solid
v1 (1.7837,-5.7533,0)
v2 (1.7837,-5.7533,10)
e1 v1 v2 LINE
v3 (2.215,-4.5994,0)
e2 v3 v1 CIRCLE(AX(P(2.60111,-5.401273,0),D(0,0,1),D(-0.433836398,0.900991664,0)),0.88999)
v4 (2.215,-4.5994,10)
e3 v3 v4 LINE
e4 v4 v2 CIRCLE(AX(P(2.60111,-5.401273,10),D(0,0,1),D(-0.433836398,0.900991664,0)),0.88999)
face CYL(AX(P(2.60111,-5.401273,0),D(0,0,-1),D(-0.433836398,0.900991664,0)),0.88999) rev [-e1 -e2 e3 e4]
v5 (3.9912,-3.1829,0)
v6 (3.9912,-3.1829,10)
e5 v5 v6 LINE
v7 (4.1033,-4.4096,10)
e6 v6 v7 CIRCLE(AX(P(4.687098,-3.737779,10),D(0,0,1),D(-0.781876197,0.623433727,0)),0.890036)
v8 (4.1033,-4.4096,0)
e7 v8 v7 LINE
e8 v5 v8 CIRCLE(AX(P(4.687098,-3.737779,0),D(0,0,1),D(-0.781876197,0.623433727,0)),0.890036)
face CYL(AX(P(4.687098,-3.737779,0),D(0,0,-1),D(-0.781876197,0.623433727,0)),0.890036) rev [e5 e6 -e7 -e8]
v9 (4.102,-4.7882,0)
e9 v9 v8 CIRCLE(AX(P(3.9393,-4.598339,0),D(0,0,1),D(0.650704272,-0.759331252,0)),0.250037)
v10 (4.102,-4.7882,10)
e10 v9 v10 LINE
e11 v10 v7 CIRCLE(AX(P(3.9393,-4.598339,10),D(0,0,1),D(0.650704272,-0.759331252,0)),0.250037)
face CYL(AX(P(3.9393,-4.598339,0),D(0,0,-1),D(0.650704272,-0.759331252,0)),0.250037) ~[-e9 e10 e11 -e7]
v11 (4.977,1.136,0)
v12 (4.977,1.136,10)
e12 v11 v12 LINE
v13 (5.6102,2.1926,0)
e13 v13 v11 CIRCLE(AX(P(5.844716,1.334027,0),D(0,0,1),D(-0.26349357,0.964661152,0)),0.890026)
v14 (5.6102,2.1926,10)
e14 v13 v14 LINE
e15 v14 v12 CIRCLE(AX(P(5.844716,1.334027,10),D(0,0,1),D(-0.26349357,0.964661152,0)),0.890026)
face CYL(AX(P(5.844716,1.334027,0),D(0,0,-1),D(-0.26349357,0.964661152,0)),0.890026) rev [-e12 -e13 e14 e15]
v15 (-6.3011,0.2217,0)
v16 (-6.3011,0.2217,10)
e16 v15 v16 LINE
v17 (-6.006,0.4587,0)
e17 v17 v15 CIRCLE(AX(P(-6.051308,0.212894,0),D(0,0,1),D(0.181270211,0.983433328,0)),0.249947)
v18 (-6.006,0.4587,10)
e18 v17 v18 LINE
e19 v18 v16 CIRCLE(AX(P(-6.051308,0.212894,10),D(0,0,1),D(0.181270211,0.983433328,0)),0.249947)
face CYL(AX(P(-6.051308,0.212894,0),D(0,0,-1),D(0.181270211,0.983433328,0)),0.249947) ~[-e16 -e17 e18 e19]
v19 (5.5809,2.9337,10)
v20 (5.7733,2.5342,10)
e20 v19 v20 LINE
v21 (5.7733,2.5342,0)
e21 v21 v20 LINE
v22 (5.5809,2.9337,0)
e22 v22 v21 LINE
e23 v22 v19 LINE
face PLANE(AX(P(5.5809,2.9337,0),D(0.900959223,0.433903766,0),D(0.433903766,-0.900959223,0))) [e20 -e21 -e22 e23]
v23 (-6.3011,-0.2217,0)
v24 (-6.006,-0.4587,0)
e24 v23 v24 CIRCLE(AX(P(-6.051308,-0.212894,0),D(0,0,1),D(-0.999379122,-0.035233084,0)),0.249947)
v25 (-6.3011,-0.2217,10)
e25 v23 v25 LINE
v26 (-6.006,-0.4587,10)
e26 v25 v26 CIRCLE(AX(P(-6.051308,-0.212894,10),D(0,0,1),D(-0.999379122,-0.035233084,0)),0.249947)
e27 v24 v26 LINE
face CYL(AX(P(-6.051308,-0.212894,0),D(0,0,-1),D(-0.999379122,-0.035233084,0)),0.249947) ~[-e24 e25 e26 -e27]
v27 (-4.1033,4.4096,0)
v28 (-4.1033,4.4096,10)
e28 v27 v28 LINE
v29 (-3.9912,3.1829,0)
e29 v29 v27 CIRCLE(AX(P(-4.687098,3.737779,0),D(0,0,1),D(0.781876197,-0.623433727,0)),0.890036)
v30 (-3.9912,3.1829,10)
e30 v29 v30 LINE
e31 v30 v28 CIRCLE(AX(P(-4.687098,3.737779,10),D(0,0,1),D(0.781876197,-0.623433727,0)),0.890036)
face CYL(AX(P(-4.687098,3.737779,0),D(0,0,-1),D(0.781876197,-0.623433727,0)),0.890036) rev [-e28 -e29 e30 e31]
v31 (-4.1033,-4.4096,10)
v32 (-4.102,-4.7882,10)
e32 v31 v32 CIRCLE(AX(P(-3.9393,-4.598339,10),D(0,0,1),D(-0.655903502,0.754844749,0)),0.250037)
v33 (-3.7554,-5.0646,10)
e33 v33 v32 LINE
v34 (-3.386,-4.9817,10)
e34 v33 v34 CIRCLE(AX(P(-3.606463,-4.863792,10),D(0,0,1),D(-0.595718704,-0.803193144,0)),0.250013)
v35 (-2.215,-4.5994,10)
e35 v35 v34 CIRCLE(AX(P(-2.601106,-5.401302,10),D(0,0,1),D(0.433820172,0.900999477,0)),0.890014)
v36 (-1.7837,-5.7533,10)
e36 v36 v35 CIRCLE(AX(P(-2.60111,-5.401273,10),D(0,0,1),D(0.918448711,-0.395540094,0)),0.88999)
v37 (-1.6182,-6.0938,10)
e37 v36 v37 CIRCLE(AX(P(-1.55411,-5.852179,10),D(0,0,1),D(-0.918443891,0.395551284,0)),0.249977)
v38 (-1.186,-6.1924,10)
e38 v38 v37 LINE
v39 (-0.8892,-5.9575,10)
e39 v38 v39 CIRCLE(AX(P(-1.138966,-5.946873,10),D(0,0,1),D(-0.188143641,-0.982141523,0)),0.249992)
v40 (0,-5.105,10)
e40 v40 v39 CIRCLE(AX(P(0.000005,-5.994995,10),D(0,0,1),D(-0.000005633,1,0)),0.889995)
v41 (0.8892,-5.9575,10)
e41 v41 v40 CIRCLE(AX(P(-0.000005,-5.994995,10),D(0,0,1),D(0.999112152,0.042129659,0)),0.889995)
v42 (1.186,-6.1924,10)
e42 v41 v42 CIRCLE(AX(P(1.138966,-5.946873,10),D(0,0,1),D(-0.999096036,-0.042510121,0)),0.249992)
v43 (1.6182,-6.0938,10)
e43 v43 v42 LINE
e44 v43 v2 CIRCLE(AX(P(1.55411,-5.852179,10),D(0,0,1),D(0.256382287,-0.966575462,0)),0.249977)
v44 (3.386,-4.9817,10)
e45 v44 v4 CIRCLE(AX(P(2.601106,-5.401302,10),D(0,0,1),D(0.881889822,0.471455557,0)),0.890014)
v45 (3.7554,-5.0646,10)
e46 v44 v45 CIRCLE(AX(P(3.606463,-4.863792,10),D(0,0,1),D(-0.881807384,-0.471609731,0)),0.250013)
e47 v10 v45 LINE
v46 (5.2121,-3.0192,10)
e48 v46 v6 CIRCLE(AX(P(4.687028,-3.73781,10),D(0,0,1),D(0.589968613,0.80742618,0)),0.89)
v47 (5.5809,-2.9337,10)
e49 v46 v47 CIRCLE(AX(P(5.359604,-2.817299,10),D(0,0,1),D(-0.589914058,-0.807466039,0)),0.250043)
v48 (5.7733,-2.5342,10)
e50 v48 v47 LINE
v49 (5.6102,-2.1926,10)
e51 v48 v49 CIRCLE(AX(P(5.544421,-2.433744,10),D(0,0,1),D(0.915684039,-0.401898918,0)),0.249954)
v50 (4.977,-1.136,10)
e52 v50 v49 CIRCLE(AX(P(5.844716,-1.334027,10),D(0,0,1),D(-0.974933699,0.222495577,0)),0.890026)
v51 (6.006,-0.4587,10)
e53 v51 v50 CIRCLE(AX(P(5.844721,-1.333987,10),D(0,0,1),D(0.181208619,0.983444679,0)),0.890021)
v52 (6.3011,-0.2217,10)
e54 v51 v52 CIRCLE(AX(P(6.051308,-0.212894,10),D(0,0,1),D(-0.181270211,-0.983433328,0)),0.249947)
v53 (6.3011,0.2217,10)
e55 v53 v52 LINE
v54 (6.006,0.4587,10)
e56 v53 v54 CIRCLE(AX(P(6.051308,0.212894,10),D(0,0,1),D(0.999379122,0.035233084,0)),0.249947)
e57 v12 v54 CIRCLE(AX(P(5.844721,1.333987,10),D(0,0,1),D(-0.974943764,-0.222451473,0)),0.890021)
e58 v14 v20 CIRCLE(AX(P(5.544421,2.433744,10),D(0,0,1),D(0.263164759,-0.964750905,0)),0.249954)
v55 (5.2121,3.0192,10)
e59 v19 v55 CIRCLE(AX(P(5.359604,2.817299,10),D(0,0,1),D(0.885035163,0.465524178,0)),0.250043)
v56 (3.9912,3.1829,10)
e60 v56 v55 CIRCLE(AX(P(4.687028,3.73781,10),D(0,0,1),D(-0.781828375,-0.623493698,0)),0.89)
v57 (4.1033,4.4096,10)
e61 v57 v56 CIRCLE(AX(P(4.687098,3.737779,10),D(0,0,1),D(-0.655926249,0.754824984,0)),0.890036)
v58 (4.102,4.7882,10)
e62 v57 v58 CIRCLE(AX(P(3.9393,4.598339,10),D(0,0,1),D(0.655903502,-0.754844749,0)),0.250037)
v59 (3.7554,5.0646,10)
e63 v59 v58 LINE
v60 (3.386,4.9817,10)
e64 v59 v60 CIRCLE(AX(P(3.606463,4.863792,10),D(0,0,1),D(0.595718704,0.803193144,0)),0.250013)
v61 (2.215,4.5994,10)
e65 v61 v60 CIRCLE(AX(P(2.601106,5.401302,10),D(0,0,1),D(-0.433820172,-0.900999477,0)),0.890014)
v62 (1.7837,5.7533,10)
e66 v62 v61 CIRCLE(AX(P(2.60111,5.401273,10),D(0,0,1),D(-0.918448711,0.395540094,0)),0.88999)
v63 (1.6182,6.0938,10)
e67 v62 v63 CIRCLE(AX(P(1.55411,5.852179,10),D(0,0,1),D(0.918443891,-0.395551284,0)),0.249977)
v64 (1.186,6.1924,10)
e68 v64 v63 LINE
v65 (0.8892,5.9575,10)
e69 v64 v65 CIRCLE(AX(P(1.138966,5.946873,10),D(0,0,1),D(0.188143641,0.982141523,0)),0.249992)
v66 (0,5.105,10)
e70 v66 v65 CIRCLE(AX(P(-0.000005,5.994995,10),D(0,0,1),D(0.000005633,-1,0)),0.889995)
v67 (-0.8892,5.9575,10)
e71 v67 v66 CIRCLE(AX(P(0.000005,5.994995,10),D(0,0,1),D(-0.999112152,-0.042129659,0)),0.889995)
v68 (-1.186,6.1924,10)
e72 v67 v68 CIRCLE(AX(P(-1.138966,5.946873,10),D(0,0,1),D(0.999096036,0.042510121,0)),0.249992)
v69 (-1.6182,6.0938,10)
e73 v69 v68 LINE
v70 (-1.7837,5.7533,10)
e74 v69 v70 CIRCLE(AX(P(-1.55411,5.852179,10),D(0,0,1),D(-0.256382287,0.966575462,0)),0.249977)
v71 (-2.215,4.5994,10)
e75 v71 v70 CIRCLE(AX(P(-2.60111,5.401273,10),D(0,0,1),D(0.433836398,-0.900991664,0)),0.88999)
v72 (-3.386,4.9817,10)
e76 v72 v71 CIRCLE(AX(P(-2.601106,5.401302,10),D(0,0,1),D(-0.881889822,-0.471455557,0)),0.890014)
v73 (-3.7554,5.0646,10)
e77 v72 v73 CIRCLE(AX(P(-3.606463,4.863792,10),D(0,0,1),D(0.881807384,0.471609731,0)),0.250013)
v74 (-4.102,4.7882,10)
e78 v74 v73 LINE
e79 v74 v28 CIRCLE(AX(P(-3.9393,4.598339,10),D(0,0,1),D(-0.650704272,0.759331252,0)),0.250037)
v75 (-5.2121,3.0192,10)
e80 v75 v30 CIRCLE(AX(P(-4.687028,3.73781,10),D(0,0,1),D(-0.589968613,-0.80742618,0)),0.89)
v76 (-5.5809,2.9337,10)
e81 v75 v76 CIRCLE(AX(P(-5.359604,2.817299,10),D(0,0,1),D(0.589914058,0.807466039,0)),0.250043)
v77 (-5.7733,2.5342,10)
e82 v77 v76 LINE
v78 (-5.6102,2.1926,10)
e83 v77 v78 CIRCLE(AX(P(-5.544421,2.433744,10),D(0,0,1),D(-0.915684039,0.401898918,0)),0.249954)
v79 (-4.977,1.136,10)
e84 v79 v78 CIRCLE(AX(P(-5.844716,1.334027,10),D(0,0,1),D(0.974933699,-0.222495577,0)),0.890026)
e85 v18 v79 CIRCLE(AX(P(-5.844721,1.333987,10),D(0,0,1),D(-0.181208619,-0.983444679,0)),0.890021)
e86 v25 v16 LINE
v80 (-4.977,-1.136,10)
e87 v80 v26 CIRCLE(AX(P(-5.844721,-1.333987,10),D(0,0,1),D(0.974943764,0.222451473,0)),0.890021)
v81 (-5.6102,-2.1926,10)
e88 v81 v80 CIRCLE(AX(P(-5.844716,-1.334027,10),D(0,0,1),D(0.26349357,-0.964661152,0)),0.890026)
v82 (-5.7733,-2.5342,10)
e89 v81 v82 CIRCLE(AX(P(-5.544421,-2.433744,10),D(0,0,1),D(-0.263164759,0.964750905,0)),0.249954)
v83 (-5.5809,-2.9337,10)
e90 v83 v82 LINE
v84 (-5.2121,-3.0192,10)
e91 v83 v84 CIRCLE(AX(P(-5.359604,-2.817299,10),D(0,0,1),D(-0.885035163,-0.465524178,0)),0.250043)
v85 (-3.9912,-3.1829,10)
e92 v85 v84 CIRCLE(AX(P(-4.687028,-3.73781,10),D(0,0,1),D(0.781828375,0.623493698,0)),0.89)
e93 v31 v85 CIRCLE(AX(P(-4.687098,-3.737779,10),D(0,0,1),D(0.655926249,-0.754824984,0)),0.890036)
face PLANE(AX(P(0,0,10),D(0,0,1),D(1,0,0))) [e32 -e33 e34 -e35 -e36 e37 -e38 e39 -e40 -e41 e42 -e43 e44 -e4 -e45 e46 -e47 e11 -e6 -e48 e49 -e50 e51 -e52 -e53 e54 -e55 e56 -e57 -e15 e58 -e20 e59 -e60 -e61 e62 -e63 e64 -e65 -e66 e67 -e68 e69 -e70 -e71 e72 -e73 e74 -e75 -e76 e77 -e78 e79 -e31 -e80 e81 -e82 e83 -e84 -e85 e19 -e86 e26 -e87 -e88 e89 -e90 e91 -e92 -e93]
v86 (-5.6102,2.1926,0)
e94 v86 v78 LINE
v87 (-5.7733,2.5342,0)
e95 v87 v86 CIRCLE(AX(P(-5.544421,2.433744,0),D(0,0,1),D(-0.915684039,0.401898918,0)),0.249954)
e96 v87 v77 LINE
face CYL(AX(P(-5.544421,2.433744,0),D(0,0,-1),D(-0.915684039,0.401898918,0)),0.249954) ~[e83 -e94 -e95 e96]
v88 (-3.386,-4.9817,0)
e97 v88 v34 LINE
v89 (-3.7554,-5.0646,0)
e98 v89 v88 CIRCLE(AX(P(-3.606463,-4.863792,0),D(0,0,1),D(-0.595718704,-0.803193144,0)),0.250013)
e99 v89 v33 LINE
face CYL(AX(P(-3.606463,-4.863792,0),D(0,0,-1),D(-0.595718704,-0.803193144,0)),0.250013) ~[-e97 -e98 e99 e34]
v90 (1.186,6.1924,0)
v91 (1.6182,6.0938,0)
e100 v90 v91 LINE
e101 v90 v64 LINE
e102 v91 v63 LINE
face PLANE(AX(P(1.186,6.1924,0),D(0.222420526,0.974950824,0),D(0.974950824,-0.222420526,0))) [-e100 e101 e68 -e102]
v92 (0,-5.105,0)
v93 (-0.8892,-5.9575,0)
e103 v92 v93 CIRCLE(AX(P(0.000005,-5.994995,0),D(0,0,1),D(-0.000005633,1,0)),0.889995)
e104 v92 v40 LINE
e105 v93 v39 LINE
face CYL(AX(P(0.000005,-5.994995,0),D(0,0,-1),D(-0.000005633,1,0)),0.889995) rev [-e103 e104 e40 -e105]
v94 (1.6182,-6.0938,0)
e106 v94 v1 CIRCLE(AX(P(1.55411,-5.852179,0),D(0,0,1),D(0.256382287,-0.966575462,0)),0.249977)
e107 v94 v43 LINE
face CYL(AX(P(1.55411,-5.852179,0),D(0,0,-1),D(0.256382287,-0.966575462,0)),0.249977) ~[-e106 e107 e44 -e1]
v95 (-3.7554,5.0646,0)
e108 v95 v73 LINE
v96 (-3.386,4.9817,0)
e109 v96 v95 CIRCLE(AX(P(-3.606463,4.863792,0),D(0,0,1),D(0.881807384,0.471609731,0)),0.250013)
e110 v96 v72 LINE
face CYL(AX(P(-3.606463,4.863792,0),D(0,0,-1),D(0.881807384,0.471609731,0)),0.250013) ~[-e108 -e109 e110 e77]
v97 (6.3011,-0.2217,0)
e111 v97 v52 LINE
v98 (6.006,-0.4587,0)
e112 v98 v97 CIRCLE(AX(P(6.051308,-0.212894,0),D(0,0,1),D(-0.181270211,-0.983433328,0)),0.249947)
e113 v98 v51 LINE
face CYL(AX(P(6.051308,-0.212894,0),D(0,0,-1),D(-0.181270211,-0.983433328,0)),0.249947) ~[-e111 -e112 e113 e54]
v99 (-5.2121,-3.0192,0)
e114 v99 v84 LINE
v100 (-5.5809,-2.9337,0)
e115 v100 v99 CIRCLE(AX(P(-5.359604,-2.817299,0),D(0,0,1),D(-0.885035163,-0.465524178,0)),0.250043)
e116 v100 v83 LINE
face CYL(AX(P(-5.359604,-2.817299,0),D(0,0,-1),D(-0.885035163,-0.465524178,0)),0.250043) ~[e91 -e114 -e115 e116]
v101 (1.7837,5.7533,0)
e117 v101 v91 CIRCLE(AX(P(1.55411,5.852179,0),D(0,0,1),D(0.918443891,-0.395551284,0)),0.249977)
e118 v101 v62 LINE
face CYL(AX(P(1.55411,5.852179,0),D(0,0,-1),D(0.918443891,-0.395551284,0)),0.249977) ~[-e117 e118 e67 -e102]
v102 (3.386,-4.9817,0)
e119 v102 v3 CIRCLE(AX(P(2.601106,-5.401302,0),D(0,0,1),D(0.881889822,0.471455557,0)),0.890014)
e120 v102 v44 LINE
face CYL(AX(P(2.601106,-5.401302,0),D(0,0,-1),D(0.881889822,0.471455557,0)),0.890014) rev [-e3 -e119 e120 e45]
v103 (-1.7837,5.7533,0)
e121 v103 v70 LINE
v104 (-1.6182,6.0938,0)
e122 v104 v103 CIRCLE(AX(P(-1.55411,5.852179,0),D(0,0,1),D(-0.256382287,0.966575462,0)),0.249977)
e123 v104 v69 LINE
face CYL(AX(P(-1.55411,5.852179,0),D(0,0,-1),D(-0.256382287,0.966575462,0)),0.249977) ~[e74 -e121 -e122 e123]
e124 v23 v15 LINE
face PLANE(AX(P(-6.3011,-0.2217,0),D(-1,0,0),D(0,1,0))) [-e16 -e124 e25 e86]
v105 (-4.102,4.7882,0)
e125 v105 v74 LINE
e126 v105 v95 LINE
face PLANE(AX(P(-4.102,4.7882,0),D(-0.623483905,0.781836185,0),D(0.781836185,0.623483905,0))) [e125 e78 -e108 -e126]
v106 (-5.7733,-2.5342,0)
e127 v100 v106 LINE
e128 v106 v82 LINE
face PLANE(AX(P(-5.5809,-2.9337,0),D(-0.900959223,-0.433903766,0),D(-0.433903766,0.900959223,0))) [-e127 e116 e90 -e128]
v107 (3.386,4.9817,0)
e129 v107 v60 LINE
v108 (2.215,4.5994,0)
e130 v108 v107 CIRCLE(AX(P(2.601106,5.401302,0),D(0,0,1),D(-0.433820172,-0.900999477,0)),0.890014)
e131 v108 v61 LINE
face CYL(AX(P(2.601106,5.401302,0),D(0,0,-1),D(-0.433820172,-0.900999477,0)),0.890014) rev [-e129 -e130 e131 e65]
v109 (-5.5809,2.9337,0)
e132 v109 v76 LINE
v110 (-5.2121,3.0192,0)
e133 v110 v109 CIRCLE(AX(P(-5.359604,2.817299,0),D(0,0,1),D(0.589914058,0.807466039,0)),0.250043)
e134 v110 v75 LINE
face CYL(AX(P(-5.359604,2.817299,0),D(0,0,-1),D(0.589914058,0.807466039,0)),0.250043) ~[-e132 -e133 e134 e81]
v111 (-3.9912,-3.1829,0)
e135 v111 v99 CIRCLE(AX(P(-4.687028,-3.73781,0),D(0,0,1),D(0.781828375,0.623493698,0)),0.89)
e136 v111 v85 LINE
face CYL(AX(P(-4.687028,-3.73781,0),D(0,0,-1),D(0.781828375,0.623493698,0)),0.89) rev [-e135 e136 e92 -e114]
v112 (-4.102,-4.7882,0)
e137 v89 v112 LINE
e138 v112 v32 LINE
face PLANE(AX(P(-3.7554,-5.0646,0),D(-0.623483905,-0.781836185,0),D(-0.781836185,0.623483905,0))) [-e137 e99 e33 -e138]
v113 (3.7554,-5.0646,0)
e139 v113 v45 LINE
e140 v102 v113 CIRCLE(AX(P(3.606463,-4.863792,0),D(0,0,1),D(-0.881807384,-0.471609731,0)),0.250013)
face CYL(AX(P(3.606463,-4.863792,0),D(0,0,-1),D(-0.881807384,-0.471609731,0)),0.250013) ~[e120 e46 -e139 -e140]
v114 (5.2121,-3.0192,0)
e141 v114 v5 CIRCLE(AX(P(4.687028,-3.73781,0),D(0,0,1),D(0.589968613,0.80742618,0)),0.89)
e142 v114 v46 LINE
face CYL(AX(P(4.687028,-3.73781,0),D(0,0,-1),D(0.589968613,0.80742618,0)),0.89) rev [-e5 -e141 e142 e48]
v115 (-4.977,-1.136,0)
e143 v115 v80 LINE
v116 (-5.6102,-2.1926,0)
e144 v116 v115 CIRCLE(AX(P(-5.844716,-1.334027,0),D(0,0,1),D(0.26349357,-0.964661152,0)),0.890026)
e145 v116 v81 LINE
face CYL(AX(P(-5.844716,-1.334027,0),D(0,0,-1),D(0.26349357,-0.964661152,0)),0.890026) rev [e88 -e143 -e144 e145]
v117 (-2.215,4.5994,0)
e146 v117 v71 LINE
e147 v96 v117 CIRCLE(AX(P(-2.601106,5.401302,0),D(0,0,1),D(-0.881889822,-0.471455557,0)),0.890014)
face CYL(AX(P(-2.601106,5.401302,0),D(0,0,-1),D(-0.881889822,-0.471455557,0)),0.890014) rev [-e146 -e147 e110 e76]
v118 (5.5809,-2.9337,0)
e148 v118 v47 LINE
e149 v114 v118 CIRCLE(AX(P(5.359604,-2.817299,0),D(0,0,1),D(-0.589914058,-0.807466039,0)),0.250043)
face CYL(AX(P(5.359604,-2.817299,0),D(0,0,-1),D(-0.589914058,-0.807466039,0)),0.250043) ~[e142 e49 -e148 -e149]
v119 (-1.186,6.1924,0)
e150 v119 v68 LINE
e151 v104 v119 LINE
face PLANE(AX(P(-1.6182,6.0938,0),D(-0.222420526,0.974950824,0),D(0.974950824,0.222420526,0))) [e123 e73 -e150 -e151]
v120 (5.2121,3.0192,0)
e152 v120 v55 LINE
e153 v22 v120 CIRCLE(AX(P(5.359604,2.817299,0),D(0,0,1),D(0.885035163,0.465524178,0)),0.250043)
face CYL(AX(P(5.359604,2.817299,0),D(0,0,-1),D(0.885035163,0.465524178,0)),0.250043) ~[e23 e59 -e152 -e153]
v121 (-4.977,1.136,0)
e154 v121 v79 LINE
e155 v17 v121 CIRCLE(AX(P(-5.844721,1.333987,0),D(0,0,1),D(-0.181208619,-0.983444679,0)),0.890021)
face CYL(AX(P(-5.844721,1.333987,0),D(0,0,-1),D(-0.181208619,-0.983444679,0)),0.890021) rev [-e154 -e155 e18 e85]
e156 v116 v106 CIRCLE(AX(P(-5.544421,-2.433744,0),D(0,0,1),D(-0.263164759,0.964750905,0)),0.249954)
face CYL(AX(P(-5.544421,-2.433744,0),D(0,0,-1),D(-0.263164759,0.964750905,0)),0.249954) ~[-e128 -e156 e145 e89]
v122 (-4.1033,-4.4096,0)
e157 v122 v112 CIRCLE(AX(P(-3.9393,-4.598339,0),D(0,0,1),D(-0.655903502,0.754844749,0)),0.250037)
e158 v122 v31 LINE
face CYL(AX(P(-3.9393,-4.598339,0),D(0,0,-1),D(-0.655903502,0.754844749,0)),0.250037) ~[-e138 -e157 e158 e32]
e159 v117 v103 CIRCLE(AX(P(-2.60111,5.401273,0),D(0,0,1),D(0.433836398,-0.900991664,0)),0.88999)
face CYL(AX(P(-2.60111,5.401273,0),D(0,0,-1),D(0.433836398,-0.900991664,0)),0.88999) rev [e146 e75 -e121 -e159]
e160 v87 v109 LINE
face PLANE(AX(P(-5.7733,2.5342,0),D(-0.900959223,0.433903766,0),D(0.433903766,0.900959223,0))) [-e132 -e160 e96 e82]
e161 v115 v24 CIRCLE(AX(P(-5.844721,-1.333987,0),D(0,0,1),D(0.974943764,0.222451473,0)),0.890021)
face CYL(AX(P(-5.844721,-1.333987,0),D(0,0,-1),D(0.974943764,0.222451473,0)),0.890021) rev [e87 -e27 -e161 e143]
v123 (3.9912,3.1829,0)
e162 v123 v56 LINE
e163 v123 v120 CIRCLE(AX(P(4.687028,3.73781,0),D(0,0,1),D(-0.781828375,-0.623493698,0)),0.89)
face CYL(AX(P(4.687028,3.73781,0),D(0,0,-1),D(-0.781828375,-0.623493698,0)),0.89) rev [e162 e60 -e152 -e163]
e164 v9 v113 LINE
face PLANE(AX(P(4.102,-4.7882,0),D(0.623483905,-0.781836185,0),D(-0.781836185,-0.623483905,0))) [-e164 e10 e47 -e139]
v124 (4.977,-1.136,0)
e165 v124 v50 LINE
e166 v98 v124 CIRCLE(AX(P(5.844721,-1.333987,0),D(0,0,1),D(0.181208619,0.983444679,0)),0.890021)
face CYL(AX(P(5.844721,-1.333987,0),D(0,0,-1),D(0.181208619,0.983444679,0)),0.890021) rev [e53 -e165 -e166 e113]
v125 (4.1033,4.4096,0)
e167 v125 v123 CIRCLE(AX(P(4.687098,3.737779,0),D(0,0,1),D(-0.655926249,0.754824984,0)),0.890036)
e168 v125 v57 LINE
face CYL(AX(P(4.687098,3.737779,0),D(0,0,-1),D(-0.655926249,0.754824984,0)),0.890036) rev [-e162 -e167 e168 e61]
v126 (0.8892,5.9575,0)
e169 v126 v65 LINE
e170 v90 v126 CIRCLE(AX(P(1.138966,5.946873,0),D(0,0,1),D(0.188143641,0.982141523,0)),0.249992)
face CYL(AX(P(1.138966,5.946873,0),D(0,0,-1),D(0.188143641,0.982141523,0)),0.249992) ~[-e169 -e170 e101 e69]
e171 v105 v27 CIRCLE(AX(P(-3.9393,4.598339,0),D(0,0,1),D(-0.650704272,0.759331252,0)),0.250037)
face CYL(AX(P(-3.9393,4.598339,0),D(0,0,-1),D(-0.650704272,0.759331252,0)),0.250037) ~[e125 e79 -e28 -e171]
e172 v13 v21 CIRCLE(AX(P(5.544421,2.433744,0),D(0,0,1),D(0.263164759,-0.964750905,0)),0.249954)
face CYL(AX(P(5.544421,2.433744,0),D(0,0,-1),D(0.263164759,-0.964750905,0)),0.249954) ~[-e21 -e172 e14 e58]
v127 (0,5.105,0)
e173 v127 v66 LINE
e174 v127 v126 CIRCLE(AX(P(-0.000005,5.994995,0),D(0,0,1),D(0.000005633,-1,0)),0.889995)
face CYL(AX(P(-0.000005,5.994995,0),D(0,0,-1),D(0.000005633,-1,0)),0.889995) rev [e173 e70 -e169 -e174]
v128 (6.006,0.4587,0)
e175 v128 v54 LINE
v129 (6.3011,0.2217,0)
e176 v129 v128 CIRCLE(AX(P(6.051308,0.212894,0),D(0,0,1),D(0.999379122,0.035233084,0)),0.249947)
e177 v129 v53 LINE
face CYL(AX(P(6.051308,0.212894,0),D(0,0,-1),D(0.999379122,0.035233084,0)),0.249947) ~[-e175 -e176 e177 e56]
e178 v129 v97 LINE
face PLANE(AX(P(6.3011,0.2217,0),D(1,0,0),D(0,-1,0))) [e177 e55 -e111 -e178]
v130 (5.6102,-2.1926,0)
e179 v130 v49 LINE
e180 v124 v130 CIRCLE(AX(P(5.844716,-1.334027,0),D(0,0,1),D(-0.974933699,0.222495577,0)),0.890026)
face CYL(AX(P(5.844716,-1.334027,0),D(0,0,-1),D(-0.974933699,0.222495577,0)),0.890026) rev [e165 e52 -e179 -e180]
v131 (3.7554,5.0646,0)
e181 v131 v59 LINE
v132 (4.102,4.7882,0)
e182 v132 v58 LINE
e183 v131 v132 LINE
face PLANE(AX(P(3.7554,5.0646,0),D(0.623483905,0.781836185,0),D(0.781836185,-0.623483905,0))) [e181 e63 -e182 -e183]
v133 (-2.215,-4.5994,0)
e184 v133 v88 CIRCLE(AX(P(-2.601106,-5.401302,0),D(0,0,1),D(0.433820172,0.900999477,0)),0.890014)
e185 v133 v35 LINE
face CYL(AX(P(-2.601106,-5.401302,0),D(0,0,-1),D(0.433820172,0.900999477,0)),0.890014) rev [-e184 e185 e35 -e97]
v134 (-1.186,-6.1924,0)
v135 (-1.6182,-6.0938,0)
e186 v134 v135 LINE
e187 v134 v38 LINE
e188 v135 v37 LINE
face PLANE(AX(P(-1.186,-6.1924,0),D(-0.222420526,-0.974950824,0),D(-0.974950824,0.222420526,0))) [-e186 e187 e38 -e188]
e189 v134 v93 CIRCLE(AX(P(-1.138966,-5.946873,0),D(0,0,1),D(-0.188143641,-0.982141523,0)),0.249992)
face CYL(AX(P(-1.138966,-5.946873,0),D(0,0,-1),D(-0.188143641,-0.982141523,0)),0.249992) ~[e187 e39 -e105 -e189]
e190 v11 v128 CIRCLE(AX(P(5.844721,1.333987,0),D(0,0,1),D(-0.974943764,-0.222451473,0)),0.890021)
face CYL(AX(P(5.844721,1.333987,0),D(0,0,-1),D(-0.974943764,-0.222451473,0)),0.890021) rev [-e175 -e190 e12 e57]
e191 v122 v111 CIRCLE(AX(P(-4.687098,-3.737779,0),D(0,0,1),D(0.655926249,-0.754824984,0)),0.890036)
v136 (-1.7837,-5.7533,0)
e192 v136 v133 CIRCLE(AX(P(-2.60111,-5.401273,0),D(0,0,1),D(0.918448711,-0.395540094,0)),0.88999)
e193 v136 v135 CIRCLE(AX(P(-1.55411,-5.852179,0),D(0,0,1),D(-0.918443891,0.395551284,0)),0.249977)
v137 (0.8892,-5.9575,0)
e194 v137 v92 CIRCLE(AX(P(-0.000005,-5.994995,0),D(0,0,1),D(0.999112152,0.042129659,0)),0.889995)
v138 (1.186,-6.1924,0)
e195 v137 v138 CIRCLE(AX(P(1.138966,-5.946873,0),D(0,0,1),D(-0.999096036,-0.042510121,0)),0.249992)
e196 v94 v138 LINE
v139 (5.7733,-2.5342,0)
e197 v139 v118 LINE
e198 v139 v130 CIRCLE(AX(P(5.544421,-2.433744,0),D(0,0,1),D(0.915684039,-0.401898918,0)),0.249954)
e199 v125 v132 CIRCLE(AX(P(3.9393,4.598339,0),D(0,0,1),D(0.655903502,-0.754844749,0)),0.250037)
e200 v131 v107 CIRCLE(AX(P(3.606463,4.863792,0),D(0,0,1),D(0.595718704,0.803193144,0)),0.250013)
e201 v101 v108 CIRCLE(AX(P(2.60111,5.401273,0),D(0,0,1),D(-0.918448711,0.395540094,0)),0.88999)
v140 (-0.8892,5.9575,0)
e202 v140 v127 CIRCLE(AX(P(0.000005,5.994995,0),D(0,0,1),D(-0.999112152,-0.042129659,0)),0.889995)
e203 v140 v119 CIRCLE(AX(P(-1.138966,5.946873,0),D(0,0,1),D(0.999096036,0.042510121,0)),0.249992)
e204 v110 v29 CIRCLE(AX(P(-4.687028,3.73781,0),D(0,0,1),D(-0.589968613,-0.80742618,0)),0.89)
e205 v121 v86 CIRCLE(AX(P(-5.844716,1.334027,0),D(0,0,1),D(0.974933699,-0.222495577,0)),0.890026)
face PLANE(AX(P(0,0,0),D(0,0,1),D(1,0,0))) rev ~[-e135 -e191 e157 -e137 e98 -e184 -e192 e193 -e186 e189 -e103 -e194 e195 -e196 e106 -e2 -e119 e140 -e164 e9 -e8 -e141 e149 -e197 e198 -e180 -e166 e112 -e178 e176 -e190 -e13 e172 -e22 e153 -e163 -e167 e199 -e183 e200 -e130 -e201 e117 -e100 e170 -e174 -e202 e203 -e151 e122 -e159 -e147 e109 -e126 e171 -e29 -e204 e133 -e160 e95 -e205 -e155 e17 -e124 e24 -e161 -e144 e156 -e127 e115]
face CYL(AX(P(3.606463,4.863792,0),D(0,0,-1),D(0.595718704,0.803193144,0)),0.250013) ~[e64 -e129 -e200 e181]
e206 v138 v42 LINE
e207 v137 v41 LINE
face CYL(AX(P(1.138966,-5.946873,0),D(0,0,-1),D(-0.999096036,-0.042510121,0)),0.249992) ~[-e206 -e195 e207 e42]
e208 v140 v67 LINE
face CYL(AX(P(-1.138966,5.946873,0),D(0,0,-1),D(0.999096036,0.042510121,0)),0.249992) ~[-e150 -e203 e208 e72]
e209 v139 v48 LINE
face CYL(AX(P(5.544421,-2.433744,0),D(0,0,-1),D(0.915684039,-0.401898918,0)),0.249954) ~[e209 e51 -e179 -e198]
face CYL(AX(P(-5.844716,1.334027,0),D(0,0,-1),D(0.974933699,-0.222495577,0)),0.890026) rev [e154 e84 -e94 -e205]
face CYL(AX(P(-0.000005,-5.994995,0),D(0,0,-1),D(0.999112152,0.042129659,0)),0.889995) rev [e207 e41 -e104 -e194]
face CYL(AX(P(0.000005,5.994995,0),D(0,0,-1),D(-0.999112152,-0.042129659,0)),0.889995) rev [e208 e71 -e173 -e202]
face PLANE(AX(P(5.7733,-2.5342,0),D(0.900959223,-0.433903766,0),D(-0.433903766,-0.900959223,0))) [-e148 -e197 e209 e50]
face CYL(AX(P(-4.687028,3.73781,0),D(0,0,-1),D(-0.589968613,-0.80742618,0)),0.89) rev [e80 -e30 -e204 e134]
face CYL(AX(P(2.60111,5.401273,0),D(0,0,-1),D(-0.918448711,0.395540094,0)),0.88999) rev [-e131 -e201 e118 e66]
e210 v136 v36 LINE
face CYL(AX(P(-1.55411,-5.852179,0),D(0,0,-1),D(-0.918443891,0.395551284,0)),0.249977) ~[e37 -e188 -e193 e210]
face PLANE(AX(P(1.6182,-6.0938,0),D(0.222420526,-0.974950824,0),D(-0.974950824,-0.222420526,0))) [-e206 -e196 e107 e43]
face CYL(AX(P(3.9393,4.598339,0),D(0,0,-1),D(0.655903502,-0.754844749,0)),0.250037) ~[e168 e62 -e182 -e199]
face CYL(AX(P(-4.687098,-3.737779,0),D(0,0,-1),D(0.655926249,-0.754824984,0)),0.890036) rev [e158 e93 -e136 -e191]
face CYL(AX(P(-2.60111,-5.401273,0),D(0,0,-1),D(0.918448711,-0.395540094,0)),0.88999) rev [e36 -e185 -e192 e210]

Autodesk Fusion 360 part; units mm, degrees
sketch "Sketch1" plane through (0, 0, 0) normal (0, 0, 1) x (1, 0, 0)
  circle A0 centre (0, 0) radius 6.305 construction
  circle A1 centre (0, 0) radius 5.105 construction
  line L0 (0, 0) -> (0, 5.105) construction
  circle A2 centre (0, 5.995) radius 0.89 construction
  circle A3 centre (1.139, 5.9469) radius 0.25 construction
  line L1 (0, 0) -> (2.7356, 5.6806) construction
  line L2 (0, 0) -> (6.305, 0) construction
  circle A4 centre (2.6011, 5.4013) radius 0.89 construction
  circle A5 centre (1.5541, 5.8522) radius 0.25 construction
  arc A6 (0.9079, 5.9375) -> (0.8892, 5.9575) centre (0, 5.105) ccw construction
  arc A7 (0, 5.105) -> (0.8892, 5.9575) centre (0, 5.995) ccw
  arc A8 (1.186, 6.1924) -> (0.8892, 5.9575) centre (1.139, 5.9469) ccw
  arc A9 (1.7837, 5.7533) -> (1.6182, 6.0938) centre (1.5541, 5.8522) ccw
  arc A10 (1.7837, 5.7533) -> (2.215, 4.5994) centre (2.6011, 5.4013) ccw
  line L3 (1.186, 6.1924) -> (1.6182, 6.0938)
  arc A11 (-0.8892, 5.9575) -> (0, 5.105) centre (0, 5.995) ccw
  arc A12 (-0.8892, 5.9575) -> (-1.186, 6.1924) centre (-1.139, 5.9469) ccw
  line L4 (-1.6182, 6.0938) -> (-1.186, 6.1924)
  arc A13 (-1.6182, 6.0938) -> (-1.7837, 5.7533) centre (-1.5541, 5.8522) ccw
  arc A14 (-2.215, 4.5994) -> (-1.7837, 5.7533) centre (-2.6011, 5.4013) ccw
  arc A15 (-3.386, 4.9817) -> (-2.215, 4.5994) centre (-2.6011, 5.4013) ccw
  arc A16 (-3.386, 4.9817) -> (-3.7554, 5.0646) centre (-3.6065, 4.8638) ccw
  line L5 (-4.102, 4.7882) -> (-3.7554, 5.0646)
  arc A17 (-4.102, 4.7882) -> (-4.1033, 4.4096) centre (-3.9393, 4.5983) ccw
  arc A18 (-3.9912, 3.1829) -> (-4.1033, 4.4096) centre (-4.6871, 3.7378) ccw
  arc A19 (-5.2121, 3.0192) -> (-3.9912, 3.1829) centre (-4.6871, 3.7378) ccw
  arc A20 (-5.2121, 3.0192) -> (-5.5809, 2.9337) centre (-5.3596, 2.8173) ccw
  line L6 (-5.7733, 2.5342) -> (-5.5809, 2.9337)
  arc A21 (-5.7733, 2.5342) -> (-5.6102, 2.1926) centre (-5.5444, 2.4337) ccw
  arc A22 (-4.977, 1.136) -> (-5.6102, 2.1926) centre (-5.8447, 1.334) ccw
  arc A23 (-6.006, 0.4587) -> (-4.977, 1.136) centre (-5.8447, 1.334) ccw
  arc A24 (-6.006, 0.4587) -> (-6.3011, 0.2217) centre (-6.0513, 0.2129) ccw
  line L7 (-6.3011, -0.2217) -> (-6.3011, 0.2217)
  arc A25 (-6.3011, -0.2217) -> (-6.006, -0.4587) centre (-6.0513, -0.2129) ccw
  arc A26 (-4.977, -1.136) -> (-6.006, -0.4587) centre (-5.8447, -1.334) ccw
  arc A27 (-5.6102, -2.1926) -> (-4.977, -1.136) centre (-5.8447, -1.334) ccw
  arc A28 (-5.6102, -2.1926) -> (-5.7733, -2.5342) centre (-5.5444, -2.4337) ccw
  line L8 (-5.5809, -2.9337) -> (-5.7733, -2.5342)
  arc A29 (-5.5809, -2.9337) -> (-5.2121, -3.0192) centre (-5.3596, -2.8173) ccw
  arc A30 (-3.9912, -3.1829) -> (-5.2121, -3.0192) centre (-4.6871, -3.7378) ccw
  arc A31 (-4.1033, -4.4096) -> (-3.9912, -3.1829) centre (-4.6871, -3.7378) ccw
  arc A32 (-4.1033, -4.4096) -> (-4.102, -4.7882) centre (-3.9393, -4.5983) ccw
  line L9 (-3.7554, -5.0646) -> (-4.102, -4.7882)
  arc A33 (-3.7554, -5.0646) -> (-3.386, -4.9817) centre (-3.6065, -4.8638) ccw
  arc A34 (-2.215, -4.5994) -> (-3.386, -4.9817) centre (-2.6011, -5.4013) ccw
  arc A35 (-1.7837, -5.7533) -> (-2.215, -4.5994) centre (-2.6011, -5.4013) ccw
  arc A36 (-1.7837, -5.7533) -> (-1.6182, -6.0938) centre (-1.5541, -5.8522) ccw
  line L10 (-1.186, -6.1924) -> (-1.6182, -6.0938)
  arc A37 (-1.186, -6.1924) -> (-0.8892, -5.9575) centre (-1.139, -5.9469) ccw
  arc A38 (0, -5.105) -> (-0.8892, -5.9575) centre (0, -5.995) ccw
  arc A39 (0.8892, -5.9575) -> (0, -5.105) centre (0, -5.995) ccw
  arc A40 (0.8892, -5.9575) -> (1.186, -6.1924) centre (1.139, -5.9469) ccw
  line L11 (1.6182, -6.0938) -> (1.186, -6.1924)
  arc A41 (1.6182, -6.0938) -> (1.7837, -5.7533) centre (1.5541, -5.8522) ccw
  arc A42 (2.215, -4.5994) -> (1.7837, -5.7533) centre (2.6011, -5.4013) ccw
  arc A43 (3.386, -4.9817) -> (2.215, -4.5994) centre (2.6011, -5.4013) ccw
  arc A44 (3.386, -4.9817) -> (3.7554, -5.0646) centre (3.6065, -4.8638) ccw
  line L12 (4.102, -4.7882) -> (3.7554, -5.0646)
  arc A45 (4.102, -4.7882) -> (4.1033, -4.4096) centre (3.9393, -4.5983) ccw
  arc A46 (3.9912, -3.1829) -> (4.1033, -4.4096) centre (4.6871, -3.7378) ccw
  arc A47 (5.2121, -3.0192) -> (3.9912, -3.1829) centre (4.6871, -3.7378) ccw
  arc A48 (5.2121, -3.0192) -> (5.5809, -2.9337) centre (5.3596, -2.8173) ccw
  line L13 (5.7733, -2.5342) -> (5.5809, -2.9337)
  arc A49 (5.7733, -2.5342) -> (5.6102, -2.1926) centre (5.5444, -2.4337) ccw
  arc A50 (4.977, -1.136) -> (5.6102, -2.1926) centre (5.8447, -1.334) ccw
  arc A51 (6.006, -0.4587) -> (4.977, -1.136) centre (5.8447, -1.334) ccw
  arc A52 (6.006, -0.4587) -> (6.3011, -0.2217) centre (6.0513, -0.2129) ccw
  line L14 (6.3011, 0.2217) -> (6.3011, -0.2217)
  arc A53 (6.3011, 0.2217) -> (6.006, 0.4587) centre (6.0513, 0.2129) ccw
  arc A54 (4.977, 1.136) -> (6.006, 0.4587) centre (5.8447, 1.334) ccw
  arc A55 (5.6102, 2.1926) -> (4.977, 1.136) centre (5.8447, 1.334) ccw
  arc A56 (5.6102, 2.1926) -> (5.7733, 2.5342) centre (5.5444, 2.4337) ccw
  line L15 (5.5809, 2.9337) -> (5.7733, 2.5342)
  arc A57 (5.5809, 2.9337) -> (5.2121, 3.0192) centre (5.3596, 2.8173) ccw
  arc A58 (3.9912, 3.1829) -> (5.2121, 3.0192) centre (4.6871, 3.7378) ccw
  arc A59 (4.1033, 4.4096) -> (3.9912, 3.1829) centre (4.6871, 3.7378) ccw
  arc A60 (4.1033, 4.4096) -> (4.102, 4.7882) centre (3.9393, 4.5983) ccw
  line L16 (3.7554, 5.0646) -> (4.102, 4.7882)
  arc A61 (3.7554, 5.0646) -> (3.386, 4.9817) centre (3.6065, 4.8638) ccw
  arc A62 (2.215, 4.5994) -> (3.386, 4.9817) centre (2.6011, 5.4013) ccw
  dimension "d1" = 12.61
  dimension "d2" = 10.21
  dimension "d3" = 1.78
  dimension "d4" = 0.5
  dimension "d6" = 25.714
  dimension "d7" = 1.78
  dimension "d8" = 0.5
  dimension "d10" = 360
extrude "Extrude1" add sketch "Sketch1" along normal blind 10
equation "d2 = d1 - ( ( 2 * 1.2 ) * 1 mm )"
equation "d7 = d3"
